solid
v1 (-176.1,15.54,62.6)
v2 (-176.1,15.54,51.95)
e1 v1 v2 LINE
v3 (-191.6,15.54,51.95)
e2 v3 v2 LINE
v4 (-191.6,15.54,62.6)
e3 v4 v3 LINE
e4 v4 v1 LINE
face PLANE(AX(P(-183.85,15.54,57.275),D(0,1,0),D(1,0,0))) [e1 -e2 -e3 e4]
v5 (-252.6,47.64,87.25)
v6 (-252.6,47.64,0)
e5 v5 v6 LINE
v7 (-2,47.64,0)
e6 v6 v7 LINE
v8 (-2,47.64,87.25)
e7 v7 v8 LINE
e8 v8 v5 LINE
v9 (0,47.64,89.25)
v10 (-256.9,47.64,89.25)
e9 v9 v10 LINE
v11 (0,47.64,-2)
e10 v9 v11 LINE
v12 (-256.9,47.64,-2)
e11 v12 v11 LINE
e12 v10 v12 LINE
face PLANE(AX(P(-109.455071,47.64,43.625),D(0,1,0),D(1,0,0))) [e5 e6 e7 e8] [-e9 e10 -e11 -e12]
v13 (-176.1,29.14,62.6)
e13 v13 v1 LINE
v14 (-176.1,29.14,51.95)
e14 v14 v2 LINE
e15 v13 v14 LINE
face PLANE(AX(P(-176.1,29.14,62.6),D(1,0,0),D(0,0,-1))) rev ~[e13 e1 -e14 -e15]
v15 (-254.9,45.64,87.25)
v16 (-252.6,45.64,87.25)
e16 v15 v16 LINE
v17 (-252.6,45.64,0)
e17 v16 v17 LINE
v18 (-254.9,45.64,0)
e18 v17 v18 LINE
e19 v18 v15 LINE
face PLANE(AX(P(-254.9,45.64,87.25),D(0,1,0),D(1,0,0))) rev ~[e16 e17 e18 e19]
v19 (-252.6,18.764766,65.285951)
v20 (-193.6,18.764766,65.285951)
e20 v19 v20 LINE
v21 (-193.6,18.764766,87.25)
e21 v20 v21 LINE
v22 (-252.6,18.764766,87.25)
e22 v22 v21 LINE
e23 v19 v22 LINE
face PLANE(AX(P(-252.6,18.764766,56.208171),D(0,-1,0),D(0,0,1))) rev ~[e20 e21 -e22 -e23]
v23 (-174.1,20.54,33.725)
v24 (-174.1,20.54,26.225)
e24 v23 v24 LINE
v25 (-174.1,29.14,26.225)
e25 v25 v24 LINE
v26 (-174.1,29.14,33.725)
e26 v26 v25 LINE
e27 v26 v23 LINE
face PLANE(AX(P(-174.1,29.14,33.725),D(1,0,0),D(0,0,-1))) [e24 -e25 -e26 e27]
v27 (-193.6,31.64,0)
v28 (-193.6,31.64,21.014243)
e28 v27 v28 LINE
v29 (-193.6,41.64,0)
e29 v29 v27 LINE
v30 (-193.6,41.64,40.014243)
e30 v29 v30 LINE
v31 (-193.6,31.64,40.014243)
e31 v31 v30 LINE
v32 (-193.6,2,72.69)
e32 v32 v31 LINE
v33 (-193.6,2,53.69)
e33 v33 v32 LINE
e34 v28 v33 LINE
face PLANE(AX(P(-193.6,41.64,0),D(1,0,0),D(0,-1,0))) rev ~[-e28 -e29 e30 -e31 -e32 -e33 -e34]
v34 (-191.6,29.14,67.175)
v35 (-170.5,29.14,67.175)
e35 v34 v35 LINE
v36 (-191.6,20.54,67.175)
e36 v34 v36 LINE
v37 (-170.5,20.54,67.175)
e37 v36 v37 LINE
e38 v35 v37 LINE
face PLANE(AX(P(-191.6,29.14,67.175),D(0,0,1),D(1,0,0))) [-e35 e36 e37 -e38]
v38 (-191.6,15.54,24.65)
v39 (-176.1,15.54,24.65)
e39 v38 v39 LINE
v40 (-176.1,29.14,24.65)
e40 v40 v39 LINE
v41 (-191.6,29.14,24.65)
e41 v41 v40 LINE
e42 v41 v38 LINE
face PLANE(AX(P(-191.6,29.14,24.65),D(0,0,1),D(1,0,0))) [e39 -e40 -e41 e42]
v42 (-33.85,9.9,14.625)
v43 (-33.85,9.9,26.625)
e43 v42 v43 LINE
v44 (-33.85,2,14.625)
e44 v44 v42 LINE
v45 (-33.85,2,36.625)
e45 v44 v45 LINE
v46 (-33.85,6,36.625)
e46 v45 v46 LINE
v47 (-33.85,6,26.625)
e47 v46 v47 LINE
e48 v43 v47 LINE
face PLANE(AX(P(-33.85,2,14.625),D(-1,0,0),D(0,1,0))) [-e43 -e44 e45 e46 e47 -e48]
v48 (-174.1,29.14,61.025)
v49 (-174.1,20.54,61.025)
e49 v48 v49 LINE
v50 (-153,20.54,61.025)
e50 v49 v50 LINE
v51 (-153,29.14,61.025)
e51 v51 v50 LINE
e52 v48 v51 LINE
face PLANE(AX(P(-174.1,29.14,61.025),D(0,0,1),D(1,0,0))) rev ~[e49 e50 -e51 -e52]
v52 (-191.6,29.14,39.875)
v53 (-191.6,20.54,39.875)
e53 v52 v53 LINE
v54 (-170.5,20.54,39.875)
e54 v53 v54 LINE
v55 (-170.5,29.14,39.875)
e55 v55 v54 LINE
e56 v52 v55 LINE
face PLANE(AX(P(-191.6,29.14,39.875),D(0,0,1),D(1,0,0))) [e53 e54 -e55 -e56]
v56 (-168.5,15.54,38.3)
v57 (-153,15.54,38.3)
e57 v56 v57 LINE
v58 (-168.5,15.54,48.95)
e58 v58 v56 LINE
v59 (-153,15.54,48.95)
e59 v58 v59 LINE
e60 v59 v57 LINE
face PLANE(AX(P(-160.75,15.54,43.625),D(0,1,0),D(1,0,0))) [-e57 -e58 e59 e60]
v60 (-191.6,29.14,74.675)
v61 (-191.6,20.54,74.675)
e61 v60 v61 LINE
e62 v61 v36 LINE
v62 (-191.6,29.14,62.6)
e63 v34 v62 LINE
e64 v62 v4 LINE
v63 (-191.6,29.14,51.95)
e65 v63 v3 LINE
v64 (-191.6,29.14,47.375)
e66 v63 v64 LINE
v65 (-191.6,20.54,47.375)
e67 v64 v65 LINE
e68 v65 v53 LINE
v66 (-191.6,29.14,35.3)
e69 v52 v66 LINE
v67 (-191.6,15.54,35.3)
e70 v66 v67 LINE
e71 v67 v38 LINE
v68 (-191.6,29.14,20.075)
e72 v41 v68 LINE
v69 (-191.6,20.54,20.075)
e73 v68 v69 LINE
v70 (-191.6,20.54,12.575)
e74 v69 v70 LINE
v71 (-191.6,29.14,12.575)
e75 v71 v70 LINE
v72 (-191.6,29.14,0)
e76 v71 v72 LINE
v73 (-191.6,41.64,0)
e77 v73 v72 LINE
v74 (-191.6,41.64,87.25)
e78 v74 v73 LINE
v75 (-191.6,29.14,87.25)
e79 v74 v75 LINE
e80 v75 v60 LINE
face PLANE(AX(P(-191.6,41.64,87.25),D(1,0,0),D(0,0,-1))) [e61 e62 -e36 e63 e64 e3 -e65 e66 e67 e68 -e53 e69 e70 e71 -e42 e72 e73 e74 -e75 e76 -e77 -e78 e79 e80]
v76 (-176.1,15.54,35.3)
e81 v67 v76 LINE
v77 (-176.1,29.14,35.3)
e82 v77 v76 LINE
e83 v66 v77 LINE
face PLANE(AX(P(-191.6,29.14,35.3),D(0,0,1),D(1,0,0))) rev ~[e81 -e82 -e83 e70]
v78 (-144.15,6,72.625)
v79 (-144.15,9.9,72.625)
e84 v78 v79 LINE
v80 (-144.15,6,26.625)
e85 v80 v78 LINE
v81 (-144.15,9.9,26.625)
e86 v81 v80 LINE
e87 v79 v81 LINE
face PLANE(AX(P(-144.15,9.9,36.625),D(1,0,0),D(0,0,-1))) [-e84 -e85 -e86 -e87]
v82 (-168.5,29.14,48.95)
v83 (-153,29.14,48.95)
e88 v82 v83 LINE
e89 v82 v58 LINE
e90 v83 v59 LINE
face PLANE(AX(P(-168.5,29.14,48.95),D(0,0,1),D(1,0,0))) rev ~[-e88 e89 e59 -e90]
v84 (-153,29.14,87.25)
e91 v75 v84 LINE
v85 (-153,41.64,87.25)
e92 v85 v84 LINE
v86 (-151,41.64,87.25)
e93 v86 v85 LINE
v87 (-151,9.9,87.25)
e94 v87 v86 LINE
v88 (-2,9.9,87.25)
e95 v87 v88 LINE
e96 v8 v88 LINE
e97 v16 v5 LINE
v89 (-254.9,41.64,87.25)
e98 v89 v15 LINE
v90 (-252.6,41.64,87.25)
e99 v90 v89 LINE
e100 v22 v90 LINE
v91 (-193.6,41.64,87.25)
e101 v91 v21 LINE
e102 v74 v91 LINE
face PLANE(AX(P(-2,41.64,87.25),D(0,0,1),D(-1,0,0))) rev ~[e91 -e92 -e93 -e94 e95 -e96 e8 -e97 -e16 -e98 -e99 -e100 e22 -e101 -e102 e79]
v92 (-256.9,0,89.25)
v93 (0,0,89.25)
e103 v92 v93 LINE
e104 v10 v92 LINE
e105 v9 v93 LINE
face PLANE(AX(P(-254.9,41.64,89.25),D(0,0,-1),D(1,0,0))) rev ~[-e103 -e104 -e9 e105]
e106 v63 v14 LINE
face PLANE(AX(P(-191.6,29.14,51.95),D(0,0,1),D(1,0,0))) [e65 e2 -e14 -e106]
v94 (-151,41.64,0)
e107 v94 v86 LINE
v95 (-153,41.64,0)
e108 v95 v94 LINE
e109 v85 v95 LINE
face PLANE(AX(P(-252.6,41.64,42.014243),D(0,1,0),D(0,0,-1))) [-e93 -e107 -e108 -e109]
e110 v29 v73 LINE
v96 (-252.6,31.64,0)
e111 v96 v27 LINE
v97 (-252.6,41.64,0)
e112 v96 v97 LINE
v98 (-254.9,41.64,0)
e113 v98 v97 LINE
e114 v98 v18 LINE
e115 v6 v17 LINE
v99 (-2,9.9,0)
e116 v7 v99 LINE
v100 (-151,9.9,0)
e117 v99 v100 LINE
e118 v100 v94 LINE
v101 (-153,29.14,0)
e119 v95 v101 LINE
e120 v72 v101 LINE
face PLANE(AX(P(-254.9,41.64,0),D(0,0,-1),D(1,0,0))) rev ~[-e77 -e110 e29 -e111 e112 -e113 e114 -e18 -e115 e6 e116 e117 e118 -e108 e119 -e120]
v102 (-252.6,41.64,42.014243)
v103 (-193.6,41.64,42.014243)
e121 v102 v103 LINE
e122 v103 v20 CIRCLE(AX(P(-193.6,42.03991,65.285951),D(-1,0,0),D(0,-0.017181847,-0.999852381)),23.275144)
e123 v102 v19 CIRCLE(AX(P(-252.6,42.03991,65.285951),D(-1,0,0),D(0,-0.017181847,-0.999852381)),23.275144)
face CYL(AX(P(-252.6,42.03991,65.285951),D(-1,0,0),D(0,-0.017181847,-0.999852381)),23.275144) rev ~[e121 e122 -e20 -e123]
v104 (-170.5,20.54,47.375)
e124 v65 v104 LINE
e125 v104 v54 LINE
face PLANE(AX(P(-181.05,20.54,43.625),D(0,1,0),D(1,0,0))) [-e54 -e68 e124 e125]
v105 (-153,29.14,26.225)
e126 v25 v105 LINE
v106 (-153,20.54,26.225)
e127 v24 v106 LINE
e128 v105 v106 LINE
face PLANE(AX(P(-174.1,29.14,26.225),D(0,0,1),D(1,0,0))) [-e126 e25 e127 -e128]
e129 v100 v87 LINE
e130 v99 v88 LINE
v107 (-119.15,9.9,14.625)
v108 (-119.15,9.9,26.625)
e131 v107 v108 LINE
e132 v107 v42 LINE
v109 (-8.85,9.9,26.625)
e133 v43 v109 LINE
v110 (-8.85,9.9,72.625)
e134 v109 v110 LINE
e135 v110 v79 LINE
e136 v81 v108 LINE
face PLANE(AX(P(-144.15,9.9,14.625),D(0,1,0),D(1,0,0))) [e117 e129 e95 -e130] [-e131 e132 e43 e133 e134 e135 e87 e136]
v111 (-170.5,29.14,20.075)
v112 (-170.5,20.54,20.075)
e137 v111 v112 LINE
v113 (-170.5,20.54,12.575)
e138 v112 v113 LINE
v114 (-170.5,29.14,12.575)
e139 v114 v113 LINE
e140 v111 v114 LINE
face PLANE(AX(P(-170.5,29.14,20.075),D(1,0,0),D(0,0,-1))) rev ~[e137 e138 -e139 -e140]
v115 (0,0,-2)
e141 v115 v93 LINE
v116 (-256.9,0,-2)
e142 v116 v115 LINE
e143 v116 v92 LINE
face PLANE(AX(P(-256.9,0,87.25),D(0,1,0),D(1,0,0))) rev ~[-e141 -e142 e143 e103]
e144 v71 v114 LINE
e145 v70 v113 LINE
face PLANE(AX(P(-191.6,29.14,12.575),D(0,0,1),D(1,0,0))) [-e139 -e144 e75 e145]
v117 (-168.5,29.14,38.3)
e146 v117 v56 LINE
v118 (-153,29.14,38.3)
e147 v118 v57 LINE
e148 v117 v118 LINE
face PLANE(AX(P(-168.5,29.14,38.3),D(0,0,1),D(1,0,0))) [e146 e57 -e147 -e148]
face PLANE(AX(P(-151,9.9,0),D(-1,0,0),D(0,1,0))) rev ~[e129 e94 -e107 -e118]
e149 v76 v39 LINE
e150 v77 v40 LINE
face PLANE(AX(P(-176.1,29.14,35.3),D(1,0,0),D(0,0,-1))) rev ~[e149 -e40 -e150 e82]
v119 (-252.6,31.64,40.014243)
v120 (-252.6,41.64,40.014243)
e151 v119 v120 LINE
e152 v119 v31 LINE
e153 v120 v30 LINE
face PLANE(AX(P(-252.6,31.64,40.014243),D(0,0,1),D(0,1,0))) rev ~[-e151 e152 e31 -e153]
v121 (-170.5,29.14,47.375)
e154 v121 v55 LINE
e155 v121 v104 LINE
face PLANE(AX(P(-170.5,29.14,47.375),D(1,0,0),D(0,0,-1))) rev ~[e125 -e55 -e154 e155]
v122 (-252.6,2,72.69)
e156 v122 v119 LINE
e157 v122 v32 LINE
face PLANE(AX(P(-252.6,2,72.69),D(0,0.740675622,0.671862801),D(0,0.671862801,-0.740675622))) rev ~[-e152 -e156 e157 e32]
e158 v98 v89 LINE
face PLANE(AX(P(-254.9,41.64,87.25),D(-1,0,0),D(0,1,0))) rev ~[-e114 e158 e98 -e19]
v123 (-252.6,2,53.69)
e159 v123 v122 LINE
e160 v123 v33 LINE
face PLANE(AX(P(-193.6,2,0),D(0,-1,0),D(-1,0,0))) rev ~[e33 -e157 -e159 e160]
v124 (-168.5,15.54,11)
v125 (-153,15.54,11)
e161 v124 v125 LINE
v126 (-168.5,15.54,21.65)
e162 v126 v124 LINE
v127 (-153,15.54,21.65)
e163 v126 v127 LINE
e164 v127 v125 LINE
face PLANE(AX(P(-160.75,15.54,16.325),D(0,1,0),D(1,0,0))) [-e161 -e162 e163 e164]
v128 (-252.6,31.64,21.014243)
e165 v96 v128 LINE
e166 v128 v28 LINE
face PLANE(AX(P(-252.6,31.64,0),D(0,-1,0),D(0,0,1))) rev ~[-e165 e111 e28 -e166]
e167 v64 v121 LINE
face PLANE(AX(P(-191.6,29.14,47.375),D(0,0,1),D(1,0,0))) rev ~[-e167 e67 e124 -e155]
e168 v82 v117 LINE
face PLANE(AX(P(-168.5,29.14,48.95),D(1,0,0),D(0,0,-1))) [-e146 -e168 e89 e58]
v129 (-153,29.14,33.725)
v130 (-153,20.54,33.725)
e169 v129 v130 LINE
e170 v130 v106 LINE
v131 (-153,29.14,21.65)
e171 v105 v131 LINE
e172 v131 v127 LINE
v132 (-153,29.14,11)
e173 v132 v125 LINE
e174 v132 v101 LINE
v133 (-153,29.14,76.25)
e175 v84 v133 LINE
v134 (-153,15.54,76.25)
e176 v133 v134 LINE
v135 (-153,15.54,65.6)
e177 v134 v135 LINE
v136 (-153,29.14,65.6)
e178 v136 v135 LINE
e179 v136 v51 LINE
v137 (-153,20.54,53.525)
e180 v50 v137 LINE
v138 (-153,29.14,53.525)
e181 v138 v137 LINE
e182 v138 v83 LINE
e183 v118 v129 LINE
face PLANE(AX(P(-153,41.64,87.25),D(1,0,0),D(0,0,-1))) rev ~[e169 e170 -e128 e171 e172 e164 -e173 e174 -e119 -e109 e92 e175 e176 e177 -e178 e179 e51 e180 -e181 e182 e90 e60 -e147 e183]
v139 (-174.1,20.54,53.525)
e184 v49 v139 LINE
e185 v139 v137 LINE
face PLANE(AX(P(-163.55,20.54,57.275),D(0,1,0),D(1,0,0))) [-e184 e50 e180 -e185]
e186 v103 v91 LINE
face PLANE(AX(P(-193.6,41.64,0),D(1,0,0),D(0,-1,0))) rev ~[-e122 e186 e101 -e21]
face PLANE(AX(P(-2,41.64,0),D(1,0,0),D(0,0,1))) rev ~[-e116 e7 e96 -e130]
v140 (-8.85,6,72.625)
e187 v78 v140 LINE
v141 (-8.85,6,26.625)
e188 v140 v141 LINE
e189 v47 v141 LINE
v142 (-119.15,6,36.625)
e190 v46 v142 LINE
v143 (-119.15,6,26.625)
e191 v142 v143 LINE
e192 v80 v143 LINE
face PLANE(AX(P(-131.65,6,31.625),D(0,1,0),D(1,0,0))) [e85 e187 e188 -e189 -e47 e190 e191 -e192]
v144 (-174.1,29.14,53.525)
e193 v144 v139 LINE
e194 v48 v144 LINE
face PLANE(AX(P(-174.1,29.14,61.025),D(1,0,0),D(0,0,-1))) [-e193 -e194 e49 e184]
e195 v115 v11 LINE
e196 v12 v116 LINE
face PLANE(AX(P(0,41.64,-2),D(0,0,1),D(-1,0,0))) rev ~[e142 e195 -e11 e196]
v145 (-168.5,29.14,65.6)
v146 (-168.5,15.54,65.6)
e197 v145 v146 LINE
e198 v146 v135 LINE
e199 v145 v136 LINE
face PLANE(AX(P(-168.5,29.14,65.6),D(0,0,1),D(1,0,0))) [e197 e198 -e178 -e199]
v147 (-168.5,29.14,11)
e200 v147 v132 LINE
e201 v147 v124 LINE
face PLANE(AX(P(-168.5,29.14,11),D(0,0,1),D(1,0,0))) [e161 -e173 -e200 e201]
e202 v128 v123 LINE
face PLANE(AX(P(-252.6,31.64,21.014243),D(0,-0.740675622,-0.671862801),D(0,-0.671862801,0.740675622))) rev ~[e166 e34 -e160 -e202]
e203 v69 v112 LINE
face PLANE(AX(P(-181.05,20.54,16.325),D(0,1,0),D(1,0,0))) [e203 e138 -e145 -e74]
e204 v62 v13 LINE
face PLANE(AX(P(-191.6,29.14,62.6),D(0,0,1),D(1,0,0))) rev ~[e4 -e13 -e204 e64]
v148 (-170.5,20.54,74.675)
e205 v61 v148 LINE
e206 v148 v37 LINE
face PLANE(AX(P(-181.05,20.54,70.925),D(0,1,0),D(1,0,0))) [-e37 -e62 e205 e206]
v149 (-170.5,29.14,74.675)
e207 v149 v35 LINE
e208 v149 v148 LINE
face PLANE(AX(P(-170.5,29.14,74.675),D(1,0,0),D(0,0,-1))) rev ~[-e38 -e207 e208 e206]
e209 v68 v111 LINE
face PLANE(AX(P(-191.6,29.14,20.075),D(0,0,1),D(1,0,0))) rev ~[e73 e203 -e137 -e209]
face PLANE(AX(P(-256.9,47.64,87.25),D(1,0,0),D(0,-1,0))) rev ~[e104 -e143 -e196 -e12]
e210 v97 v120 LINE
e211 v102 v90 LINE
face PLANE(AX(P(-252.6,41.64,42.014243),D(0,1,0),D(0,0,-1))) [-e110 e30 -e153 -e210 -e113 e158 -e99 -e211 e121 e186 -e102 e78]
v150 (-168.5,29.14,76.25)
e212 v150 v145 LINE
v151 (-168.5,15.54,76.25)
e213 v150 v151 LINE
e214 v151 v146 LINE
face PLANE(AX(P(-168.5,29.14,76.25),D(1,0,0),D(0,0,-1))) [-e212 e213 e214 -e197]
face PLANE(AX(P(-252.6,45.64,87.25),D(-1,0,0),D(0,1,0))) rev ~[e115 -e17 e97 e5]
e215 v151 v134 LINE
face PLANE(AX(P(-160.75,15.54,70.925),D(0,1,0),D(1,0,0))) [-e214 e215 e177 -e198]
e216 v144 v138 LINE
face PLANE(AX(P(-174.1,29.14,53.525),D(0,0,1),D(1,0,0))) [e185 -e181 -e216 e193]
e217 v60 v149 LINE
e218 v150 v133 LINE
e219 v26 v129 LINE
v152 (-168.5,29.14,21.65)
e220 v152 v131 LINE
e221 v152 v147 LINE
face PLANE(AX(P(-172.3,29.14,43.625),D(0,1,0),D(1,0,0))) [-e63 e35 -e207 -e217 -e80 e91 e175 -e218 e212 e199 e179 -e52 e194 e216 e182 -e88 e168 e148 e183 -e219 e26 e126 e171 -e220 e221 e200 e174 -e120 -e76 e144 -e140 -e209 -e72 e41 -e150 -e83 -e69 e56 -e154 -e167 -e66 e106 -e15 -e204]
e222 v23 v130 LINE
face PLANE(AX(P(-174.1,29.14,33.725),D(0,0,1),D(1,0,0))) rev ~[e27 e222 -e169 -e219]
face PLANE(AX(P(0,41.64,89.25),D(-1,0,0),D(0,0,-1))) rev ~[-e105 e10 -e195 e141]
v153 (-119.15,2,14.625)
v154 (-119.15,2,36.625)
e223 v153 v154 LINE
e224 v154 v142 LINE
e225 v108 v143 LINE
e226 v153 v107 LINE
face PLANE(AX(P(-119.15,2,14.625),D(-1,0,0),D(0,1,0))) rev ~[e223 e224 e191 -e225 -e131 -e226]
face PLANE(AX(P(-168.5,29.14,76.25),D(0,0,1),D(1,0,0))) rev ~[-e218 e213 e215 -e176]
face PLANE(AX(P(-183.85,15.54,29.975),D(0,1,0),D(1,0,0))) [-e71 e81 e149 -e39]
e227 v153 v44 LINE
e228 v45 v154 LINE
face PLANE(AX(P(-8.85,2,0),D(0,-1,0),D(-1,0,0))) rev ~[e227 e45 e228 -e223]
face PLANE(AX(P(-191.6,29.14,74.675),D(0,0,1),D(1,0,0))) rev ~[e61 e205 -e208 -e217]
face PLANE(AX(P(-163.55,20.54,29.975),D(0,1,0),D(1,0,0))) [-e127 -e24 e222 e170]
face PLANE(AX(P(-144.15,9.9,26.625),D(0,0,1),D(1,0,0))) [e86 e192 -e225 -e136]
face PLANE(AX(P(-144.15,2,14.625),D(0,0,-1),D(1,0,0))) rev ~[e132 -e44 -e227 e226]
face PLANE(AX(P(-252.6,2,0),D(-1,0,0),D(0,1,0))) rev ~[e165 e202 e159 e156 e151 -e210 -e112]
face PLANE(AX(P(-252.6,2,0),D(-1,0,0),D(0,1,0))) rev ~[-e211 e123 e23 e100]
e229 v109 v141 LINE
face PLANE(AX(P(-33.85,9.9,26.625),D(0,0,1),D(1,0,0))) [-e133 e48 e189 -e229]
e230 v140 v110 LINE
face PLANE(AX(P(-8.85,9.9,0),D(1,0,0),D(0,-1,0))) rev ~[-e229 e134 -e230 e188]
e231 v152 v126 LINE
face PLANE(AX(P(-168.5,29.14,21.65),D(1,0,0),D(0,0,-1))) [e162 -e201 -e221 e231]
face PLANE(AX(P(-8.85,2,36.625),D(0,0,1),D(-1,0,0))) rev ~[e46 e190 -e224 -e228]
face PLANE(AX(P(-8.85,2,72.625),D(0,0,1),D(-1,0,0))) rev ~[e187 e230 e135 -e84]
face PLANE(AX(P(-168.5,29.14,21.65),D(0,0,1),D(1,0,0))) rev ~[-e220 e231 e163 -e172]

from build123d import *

# Parameters (mm, degrees)
BOSS_EXTRUDE1_DEPTH  = 2
BOSS_EXTRUDE2_DEPTH  = 87.25
BOSS_EXTRUDE4_DEPTH  = 2
BOSS_EXTRUDE5_DEPTH  = 59
SKETCH5_3_W          = 2
SKETCH5_3_H          = 10
BOSS_EXTRUDE6_DEPTH  = 59
BOSS_EXTRUDE7_DEPTH  = 59
BOSS_EXTRUDE8_DEPTH  = 6
SKETCH8_W            = 38.6
SKETCH8_H            = 87.25
CUT_EXTRUDE1_DEPTH   = 12.5
SKETCH9_W            = 15.5
SKETCH9_H            = 10.65
CUT_EXTRUDE2_DEPTH   = 13.6
SKETCH9_4_W          = 21.1
SKETCH9_4_H          = 7.5
CUT_EXTRUDE3_DEPTH   = 8.6
SKETCH10_W           = 135.3
SKETCH10_H           = 14.625
BOSS_EXTRUDE9_DEPTH  = 7.9
BOSS_EXTRUDE10_DEPTH = 4
SKETCH11_W           = 25
SKETCH11_H           = 7.9
BOSS_EXTRUDE14_DEPTH = 22
SKETCH12_W           = 25
SKETCH12_H           = 10
CUT_EXTRUDE4_DEPTH   = 3.9


with BuildPart() as part:
    # Sketch2 → Boss-Extrude1 (new body)
    with BuildSketch(Plane.XY):
        Polygon((-256.9, 0), (0, 0), (0, 41.64), (-254.9, 41.64), (-254.9, 45.64), (-252.6, 45.64), (-252.6, 47.64), (-256.9, 47.64), align=None)
    extrude(amount=-BOSS_EXTRUDE1_DEPTH)

    # Sketch2<3> → Boss-Extrude2 (add)
    with BuildSketch(Plane.XY):
        Polygon((-256.9, 0), (0, 0), (0, 41.64), (-2, 41.64), (-2, 9.9), (-8.85, 9.9), (-8.85, 2), (-144.15, 2), (-144.15, 9.9), (-151, 9.9), (-151, 41.64), (-153, 41.64), (-191.6, 41.64), (-193.6, 41.64), (-193.6, 2), (-252.6, 2), (-252.6, 41.64), (-254.9, 41.64), (-254.9, 45.64), (-252.6, 45.64), (-252.6, 47.64), (-256.9, 47.64), align=None)
    extrude(amount=BOSS_EXTRUDE2_DEPTH)

    # Sketch4 → Boss-Extrude4 (add)
    with BuildSketch(Plane.XY.offset(87.25)):
        Polygon((-256.9, 47.64), (-256.9, 0), (0, 0), (0, 41.64), (-254.9, 41.64), (-254.9, 45.64), (-252.6, 45.64), (-252.6, 47.64), align=None)
    extrude(amount=BOSS_EXTRUDE4_DEPTH)

    # Sketch5 → Boss-Extrude5 (add)
    with BuildSketch(Plane(origin=(-252.6, 0, 0), x_dir=(0, 0, -1), z_dir=(1, 0, 0))):
        Polygon((0, 2), (0, 31.64), (-21.014243309, 31.64), (-53.69, 2), align=None)
        Polygon((-72.69, 2), (-40.014243309, 31.64), (-42.014243309, 31.64), (-56.208170838, 18.764766047), (-87.25, 18.764766047), (-87.25, 2), align=None)
    extrude(amount=BOSS_EXTRUDE5_DEPTH)

    # Sketch5<3> → Boss-Extrude6 (add)
    with BuildSketch(Plane(origin=(-252.6, 0, 0), x_dir=(0, 0, -1), z_dir=(1, 0, 0))):
        with Locations((-41.014243309, 36.64)):
            Rectangle(SKETCH5_3_W, SKETCH5_3_H)
    extrude(amount=BOSS_EXTRUDE6_DEPTH)

    # Sketch6 → Boss-Extrude7 (add)
    with BuildSketch(Plane(origin=(-252.6, 0, 0), x_dir=(0, 0, -1), z_dir=(1, 0, 0))):
        with BuildLine():
            Line((-42.014243309, 31.64), (-42.014243309, 41.64))
            ThreePointArc((-42.014243309, 41.64), (-48.969941413, 25.441110515), (-65.285951379, 18.764766047))
            Line((-65.285951379, 18.764766047), (-56.208170838, 18.764766047))
            Line((-56.208170838, 18.764766047), (-42.014243309, 31.64))
        make_face()
    extrude(amount=BOSS_EXTRUDE7_DEPTH)

    # Sketch7 → Boss-Extrude8 (add)
    with BuildSketch(Plane(origin=(0, 41.64, 0), x_dir=(1, 0, 0), z_dir=(0, 1, 0))):
        Polygon((0, -89.25), (0, 2), (-254.9, 2), (-254.9, 0), (-252.6, 0), (-2, 0), (-2, -87.25), (-252.6, -87.25), (-254.9, -87.25), (-254.9, -89.25), align=None)
    extrude(amount=BOSS_EXTRUDE8_DEPTH)

    # Sketch8 → Cut-Extrude1 (cut)
    with BuildSketch(Plane(origin=(0, 41.64, 0), x_dir=(1, 0, 0), z_dir=(0, 1, 0))):
        with Locations((-172.3, -43.625)):
            Rectangle(SKETCH8_W, SKETCH8_H)
    extrude(amount=-CUT_EXTRUDE1_DEPTH, mode=Mode.SUBTRACT)

    # Sketch9 → Cut-Extrude2 (cut)
    with BuildSketch(Plane(origin=(0, 29.14, 0), x_dir=(1, 0, 0), z_dir=(0, 1, 0))):
        with Locations((-160.75, -16.325)):
            Rectangle(SKETCH9_W, SKETCH9_H)
        with Locations((-183.85, -29.975)):
            Rectangle(SKETCH9_W, SKETCH9_H)
        with Locations((-160.75, -43.625)):
            Rectangle(SKETCH9_W, SKETCH9_H)
        with Locations((-183.85, -57.275)):
            Rectangle(SKETCH9_W, SKETCH9_H)
        with Locations((-160.75, -70.925)):
            Rectangle(SKETCH9_W, SKETCH9_H)
    extrude(amount=-CUT_EXTRUDE2_DEPTH, mode=Mode.SUBTRACT)

    # Sketch9<4> → Cut-Extrude3 (cut)
    with BuildSketch(Plane(origin=(0, 29.14, 0), x_dir=(1, 0, 0), z_dir=(0, 1, 0))):
        with Locations((-181.05, -16.325)):
            Rectangle(SKETCH9_4_W, SKETCH9_4_H)
        with Locations((-181.05, -43.625)):
            Rectangle(SKETCH9_4_W, SKETCH9_4_H)
        with Locations((-163.55, -29.975)):
            Rectangle(SKETCH9_4_W, SKETCH9_4_H)
        with Locations((-181.05, -70.925)):
            Rectangle(SKETCH9_4_W, SKETCH9_4_H)
        with Locations((-163.55, -57.275)):
            Rectangle(SKETCH9_4_W, SKETCH9_4_H)
    extrude(amount=-CUT_EXTRUDE3_DEPTH, mode=Mode.SUBTRACT)

    # Sketch10 → Boss-Extrude9 (add)
    with BuildSketch(Plane(origin=(0, 2, 0), x_dir=(1, 0, 0), z_dir=(0, 1, 0))):
        with Locations((-76.5, -79.9375)):
            Rectangle(SKETCH10_W, SKETCH10_H)
        with Locations((-76.5, -7.3125)):
            Rectangle(SKETCH10_W, SKETCH10_H)
    extrude(amount=BOSS_EXTRUDE9_DEPTH)

    # Sketch10<4> → Boss-Extrude10 (add)
    with BuildSketch(Plane(origin=(0, 2, 0), x_dir=(1, 0, 0), z_dir=(0, 1, 0))):
        Polygon((-8.85, -36.625), (-144.15, -36.625), (-144.15, -72.625), (-76.5, -72.625), (-8.85, -72.625), align=None)
    extrude(amount=BOSS_EXTRUDE10_DEPTH)

    # Sketch11 → Boss-Extrude14 (add)
    with BuildSketch(Plane.XY.offset(14.625)):
        with Locations((-131.65, 5.95)):
            Rectangle(SKETCH11_W, SKETCH11_H)
        with Locations((-21.35, 5.95)):
            Rectangle(SKETCH11_W, SKETCH11_H)
    extrude(amount=BOSS_EXTRUDE14_DEPTH)

    # Sketch12 → Cut-Extrude4 (cut)
    with BuildSketch(Plane(origin=(0, 9.9, 0), x_dir=(1, 0, 0), z_dir=(0, 1, 0))):
        with Locations((-131.65, -31.625)):
            Rectangle(SKETCH12_W, SKETCH12_H)
        with Locations((-21.35, -31.625)):
            Rectangle(SKETCH12_W, SKETCH12_H)
    extrude(amount=-CUT_EXTRUDE4_DEPTH, mode=Mode.SUBTRACT)


solid = part.part
